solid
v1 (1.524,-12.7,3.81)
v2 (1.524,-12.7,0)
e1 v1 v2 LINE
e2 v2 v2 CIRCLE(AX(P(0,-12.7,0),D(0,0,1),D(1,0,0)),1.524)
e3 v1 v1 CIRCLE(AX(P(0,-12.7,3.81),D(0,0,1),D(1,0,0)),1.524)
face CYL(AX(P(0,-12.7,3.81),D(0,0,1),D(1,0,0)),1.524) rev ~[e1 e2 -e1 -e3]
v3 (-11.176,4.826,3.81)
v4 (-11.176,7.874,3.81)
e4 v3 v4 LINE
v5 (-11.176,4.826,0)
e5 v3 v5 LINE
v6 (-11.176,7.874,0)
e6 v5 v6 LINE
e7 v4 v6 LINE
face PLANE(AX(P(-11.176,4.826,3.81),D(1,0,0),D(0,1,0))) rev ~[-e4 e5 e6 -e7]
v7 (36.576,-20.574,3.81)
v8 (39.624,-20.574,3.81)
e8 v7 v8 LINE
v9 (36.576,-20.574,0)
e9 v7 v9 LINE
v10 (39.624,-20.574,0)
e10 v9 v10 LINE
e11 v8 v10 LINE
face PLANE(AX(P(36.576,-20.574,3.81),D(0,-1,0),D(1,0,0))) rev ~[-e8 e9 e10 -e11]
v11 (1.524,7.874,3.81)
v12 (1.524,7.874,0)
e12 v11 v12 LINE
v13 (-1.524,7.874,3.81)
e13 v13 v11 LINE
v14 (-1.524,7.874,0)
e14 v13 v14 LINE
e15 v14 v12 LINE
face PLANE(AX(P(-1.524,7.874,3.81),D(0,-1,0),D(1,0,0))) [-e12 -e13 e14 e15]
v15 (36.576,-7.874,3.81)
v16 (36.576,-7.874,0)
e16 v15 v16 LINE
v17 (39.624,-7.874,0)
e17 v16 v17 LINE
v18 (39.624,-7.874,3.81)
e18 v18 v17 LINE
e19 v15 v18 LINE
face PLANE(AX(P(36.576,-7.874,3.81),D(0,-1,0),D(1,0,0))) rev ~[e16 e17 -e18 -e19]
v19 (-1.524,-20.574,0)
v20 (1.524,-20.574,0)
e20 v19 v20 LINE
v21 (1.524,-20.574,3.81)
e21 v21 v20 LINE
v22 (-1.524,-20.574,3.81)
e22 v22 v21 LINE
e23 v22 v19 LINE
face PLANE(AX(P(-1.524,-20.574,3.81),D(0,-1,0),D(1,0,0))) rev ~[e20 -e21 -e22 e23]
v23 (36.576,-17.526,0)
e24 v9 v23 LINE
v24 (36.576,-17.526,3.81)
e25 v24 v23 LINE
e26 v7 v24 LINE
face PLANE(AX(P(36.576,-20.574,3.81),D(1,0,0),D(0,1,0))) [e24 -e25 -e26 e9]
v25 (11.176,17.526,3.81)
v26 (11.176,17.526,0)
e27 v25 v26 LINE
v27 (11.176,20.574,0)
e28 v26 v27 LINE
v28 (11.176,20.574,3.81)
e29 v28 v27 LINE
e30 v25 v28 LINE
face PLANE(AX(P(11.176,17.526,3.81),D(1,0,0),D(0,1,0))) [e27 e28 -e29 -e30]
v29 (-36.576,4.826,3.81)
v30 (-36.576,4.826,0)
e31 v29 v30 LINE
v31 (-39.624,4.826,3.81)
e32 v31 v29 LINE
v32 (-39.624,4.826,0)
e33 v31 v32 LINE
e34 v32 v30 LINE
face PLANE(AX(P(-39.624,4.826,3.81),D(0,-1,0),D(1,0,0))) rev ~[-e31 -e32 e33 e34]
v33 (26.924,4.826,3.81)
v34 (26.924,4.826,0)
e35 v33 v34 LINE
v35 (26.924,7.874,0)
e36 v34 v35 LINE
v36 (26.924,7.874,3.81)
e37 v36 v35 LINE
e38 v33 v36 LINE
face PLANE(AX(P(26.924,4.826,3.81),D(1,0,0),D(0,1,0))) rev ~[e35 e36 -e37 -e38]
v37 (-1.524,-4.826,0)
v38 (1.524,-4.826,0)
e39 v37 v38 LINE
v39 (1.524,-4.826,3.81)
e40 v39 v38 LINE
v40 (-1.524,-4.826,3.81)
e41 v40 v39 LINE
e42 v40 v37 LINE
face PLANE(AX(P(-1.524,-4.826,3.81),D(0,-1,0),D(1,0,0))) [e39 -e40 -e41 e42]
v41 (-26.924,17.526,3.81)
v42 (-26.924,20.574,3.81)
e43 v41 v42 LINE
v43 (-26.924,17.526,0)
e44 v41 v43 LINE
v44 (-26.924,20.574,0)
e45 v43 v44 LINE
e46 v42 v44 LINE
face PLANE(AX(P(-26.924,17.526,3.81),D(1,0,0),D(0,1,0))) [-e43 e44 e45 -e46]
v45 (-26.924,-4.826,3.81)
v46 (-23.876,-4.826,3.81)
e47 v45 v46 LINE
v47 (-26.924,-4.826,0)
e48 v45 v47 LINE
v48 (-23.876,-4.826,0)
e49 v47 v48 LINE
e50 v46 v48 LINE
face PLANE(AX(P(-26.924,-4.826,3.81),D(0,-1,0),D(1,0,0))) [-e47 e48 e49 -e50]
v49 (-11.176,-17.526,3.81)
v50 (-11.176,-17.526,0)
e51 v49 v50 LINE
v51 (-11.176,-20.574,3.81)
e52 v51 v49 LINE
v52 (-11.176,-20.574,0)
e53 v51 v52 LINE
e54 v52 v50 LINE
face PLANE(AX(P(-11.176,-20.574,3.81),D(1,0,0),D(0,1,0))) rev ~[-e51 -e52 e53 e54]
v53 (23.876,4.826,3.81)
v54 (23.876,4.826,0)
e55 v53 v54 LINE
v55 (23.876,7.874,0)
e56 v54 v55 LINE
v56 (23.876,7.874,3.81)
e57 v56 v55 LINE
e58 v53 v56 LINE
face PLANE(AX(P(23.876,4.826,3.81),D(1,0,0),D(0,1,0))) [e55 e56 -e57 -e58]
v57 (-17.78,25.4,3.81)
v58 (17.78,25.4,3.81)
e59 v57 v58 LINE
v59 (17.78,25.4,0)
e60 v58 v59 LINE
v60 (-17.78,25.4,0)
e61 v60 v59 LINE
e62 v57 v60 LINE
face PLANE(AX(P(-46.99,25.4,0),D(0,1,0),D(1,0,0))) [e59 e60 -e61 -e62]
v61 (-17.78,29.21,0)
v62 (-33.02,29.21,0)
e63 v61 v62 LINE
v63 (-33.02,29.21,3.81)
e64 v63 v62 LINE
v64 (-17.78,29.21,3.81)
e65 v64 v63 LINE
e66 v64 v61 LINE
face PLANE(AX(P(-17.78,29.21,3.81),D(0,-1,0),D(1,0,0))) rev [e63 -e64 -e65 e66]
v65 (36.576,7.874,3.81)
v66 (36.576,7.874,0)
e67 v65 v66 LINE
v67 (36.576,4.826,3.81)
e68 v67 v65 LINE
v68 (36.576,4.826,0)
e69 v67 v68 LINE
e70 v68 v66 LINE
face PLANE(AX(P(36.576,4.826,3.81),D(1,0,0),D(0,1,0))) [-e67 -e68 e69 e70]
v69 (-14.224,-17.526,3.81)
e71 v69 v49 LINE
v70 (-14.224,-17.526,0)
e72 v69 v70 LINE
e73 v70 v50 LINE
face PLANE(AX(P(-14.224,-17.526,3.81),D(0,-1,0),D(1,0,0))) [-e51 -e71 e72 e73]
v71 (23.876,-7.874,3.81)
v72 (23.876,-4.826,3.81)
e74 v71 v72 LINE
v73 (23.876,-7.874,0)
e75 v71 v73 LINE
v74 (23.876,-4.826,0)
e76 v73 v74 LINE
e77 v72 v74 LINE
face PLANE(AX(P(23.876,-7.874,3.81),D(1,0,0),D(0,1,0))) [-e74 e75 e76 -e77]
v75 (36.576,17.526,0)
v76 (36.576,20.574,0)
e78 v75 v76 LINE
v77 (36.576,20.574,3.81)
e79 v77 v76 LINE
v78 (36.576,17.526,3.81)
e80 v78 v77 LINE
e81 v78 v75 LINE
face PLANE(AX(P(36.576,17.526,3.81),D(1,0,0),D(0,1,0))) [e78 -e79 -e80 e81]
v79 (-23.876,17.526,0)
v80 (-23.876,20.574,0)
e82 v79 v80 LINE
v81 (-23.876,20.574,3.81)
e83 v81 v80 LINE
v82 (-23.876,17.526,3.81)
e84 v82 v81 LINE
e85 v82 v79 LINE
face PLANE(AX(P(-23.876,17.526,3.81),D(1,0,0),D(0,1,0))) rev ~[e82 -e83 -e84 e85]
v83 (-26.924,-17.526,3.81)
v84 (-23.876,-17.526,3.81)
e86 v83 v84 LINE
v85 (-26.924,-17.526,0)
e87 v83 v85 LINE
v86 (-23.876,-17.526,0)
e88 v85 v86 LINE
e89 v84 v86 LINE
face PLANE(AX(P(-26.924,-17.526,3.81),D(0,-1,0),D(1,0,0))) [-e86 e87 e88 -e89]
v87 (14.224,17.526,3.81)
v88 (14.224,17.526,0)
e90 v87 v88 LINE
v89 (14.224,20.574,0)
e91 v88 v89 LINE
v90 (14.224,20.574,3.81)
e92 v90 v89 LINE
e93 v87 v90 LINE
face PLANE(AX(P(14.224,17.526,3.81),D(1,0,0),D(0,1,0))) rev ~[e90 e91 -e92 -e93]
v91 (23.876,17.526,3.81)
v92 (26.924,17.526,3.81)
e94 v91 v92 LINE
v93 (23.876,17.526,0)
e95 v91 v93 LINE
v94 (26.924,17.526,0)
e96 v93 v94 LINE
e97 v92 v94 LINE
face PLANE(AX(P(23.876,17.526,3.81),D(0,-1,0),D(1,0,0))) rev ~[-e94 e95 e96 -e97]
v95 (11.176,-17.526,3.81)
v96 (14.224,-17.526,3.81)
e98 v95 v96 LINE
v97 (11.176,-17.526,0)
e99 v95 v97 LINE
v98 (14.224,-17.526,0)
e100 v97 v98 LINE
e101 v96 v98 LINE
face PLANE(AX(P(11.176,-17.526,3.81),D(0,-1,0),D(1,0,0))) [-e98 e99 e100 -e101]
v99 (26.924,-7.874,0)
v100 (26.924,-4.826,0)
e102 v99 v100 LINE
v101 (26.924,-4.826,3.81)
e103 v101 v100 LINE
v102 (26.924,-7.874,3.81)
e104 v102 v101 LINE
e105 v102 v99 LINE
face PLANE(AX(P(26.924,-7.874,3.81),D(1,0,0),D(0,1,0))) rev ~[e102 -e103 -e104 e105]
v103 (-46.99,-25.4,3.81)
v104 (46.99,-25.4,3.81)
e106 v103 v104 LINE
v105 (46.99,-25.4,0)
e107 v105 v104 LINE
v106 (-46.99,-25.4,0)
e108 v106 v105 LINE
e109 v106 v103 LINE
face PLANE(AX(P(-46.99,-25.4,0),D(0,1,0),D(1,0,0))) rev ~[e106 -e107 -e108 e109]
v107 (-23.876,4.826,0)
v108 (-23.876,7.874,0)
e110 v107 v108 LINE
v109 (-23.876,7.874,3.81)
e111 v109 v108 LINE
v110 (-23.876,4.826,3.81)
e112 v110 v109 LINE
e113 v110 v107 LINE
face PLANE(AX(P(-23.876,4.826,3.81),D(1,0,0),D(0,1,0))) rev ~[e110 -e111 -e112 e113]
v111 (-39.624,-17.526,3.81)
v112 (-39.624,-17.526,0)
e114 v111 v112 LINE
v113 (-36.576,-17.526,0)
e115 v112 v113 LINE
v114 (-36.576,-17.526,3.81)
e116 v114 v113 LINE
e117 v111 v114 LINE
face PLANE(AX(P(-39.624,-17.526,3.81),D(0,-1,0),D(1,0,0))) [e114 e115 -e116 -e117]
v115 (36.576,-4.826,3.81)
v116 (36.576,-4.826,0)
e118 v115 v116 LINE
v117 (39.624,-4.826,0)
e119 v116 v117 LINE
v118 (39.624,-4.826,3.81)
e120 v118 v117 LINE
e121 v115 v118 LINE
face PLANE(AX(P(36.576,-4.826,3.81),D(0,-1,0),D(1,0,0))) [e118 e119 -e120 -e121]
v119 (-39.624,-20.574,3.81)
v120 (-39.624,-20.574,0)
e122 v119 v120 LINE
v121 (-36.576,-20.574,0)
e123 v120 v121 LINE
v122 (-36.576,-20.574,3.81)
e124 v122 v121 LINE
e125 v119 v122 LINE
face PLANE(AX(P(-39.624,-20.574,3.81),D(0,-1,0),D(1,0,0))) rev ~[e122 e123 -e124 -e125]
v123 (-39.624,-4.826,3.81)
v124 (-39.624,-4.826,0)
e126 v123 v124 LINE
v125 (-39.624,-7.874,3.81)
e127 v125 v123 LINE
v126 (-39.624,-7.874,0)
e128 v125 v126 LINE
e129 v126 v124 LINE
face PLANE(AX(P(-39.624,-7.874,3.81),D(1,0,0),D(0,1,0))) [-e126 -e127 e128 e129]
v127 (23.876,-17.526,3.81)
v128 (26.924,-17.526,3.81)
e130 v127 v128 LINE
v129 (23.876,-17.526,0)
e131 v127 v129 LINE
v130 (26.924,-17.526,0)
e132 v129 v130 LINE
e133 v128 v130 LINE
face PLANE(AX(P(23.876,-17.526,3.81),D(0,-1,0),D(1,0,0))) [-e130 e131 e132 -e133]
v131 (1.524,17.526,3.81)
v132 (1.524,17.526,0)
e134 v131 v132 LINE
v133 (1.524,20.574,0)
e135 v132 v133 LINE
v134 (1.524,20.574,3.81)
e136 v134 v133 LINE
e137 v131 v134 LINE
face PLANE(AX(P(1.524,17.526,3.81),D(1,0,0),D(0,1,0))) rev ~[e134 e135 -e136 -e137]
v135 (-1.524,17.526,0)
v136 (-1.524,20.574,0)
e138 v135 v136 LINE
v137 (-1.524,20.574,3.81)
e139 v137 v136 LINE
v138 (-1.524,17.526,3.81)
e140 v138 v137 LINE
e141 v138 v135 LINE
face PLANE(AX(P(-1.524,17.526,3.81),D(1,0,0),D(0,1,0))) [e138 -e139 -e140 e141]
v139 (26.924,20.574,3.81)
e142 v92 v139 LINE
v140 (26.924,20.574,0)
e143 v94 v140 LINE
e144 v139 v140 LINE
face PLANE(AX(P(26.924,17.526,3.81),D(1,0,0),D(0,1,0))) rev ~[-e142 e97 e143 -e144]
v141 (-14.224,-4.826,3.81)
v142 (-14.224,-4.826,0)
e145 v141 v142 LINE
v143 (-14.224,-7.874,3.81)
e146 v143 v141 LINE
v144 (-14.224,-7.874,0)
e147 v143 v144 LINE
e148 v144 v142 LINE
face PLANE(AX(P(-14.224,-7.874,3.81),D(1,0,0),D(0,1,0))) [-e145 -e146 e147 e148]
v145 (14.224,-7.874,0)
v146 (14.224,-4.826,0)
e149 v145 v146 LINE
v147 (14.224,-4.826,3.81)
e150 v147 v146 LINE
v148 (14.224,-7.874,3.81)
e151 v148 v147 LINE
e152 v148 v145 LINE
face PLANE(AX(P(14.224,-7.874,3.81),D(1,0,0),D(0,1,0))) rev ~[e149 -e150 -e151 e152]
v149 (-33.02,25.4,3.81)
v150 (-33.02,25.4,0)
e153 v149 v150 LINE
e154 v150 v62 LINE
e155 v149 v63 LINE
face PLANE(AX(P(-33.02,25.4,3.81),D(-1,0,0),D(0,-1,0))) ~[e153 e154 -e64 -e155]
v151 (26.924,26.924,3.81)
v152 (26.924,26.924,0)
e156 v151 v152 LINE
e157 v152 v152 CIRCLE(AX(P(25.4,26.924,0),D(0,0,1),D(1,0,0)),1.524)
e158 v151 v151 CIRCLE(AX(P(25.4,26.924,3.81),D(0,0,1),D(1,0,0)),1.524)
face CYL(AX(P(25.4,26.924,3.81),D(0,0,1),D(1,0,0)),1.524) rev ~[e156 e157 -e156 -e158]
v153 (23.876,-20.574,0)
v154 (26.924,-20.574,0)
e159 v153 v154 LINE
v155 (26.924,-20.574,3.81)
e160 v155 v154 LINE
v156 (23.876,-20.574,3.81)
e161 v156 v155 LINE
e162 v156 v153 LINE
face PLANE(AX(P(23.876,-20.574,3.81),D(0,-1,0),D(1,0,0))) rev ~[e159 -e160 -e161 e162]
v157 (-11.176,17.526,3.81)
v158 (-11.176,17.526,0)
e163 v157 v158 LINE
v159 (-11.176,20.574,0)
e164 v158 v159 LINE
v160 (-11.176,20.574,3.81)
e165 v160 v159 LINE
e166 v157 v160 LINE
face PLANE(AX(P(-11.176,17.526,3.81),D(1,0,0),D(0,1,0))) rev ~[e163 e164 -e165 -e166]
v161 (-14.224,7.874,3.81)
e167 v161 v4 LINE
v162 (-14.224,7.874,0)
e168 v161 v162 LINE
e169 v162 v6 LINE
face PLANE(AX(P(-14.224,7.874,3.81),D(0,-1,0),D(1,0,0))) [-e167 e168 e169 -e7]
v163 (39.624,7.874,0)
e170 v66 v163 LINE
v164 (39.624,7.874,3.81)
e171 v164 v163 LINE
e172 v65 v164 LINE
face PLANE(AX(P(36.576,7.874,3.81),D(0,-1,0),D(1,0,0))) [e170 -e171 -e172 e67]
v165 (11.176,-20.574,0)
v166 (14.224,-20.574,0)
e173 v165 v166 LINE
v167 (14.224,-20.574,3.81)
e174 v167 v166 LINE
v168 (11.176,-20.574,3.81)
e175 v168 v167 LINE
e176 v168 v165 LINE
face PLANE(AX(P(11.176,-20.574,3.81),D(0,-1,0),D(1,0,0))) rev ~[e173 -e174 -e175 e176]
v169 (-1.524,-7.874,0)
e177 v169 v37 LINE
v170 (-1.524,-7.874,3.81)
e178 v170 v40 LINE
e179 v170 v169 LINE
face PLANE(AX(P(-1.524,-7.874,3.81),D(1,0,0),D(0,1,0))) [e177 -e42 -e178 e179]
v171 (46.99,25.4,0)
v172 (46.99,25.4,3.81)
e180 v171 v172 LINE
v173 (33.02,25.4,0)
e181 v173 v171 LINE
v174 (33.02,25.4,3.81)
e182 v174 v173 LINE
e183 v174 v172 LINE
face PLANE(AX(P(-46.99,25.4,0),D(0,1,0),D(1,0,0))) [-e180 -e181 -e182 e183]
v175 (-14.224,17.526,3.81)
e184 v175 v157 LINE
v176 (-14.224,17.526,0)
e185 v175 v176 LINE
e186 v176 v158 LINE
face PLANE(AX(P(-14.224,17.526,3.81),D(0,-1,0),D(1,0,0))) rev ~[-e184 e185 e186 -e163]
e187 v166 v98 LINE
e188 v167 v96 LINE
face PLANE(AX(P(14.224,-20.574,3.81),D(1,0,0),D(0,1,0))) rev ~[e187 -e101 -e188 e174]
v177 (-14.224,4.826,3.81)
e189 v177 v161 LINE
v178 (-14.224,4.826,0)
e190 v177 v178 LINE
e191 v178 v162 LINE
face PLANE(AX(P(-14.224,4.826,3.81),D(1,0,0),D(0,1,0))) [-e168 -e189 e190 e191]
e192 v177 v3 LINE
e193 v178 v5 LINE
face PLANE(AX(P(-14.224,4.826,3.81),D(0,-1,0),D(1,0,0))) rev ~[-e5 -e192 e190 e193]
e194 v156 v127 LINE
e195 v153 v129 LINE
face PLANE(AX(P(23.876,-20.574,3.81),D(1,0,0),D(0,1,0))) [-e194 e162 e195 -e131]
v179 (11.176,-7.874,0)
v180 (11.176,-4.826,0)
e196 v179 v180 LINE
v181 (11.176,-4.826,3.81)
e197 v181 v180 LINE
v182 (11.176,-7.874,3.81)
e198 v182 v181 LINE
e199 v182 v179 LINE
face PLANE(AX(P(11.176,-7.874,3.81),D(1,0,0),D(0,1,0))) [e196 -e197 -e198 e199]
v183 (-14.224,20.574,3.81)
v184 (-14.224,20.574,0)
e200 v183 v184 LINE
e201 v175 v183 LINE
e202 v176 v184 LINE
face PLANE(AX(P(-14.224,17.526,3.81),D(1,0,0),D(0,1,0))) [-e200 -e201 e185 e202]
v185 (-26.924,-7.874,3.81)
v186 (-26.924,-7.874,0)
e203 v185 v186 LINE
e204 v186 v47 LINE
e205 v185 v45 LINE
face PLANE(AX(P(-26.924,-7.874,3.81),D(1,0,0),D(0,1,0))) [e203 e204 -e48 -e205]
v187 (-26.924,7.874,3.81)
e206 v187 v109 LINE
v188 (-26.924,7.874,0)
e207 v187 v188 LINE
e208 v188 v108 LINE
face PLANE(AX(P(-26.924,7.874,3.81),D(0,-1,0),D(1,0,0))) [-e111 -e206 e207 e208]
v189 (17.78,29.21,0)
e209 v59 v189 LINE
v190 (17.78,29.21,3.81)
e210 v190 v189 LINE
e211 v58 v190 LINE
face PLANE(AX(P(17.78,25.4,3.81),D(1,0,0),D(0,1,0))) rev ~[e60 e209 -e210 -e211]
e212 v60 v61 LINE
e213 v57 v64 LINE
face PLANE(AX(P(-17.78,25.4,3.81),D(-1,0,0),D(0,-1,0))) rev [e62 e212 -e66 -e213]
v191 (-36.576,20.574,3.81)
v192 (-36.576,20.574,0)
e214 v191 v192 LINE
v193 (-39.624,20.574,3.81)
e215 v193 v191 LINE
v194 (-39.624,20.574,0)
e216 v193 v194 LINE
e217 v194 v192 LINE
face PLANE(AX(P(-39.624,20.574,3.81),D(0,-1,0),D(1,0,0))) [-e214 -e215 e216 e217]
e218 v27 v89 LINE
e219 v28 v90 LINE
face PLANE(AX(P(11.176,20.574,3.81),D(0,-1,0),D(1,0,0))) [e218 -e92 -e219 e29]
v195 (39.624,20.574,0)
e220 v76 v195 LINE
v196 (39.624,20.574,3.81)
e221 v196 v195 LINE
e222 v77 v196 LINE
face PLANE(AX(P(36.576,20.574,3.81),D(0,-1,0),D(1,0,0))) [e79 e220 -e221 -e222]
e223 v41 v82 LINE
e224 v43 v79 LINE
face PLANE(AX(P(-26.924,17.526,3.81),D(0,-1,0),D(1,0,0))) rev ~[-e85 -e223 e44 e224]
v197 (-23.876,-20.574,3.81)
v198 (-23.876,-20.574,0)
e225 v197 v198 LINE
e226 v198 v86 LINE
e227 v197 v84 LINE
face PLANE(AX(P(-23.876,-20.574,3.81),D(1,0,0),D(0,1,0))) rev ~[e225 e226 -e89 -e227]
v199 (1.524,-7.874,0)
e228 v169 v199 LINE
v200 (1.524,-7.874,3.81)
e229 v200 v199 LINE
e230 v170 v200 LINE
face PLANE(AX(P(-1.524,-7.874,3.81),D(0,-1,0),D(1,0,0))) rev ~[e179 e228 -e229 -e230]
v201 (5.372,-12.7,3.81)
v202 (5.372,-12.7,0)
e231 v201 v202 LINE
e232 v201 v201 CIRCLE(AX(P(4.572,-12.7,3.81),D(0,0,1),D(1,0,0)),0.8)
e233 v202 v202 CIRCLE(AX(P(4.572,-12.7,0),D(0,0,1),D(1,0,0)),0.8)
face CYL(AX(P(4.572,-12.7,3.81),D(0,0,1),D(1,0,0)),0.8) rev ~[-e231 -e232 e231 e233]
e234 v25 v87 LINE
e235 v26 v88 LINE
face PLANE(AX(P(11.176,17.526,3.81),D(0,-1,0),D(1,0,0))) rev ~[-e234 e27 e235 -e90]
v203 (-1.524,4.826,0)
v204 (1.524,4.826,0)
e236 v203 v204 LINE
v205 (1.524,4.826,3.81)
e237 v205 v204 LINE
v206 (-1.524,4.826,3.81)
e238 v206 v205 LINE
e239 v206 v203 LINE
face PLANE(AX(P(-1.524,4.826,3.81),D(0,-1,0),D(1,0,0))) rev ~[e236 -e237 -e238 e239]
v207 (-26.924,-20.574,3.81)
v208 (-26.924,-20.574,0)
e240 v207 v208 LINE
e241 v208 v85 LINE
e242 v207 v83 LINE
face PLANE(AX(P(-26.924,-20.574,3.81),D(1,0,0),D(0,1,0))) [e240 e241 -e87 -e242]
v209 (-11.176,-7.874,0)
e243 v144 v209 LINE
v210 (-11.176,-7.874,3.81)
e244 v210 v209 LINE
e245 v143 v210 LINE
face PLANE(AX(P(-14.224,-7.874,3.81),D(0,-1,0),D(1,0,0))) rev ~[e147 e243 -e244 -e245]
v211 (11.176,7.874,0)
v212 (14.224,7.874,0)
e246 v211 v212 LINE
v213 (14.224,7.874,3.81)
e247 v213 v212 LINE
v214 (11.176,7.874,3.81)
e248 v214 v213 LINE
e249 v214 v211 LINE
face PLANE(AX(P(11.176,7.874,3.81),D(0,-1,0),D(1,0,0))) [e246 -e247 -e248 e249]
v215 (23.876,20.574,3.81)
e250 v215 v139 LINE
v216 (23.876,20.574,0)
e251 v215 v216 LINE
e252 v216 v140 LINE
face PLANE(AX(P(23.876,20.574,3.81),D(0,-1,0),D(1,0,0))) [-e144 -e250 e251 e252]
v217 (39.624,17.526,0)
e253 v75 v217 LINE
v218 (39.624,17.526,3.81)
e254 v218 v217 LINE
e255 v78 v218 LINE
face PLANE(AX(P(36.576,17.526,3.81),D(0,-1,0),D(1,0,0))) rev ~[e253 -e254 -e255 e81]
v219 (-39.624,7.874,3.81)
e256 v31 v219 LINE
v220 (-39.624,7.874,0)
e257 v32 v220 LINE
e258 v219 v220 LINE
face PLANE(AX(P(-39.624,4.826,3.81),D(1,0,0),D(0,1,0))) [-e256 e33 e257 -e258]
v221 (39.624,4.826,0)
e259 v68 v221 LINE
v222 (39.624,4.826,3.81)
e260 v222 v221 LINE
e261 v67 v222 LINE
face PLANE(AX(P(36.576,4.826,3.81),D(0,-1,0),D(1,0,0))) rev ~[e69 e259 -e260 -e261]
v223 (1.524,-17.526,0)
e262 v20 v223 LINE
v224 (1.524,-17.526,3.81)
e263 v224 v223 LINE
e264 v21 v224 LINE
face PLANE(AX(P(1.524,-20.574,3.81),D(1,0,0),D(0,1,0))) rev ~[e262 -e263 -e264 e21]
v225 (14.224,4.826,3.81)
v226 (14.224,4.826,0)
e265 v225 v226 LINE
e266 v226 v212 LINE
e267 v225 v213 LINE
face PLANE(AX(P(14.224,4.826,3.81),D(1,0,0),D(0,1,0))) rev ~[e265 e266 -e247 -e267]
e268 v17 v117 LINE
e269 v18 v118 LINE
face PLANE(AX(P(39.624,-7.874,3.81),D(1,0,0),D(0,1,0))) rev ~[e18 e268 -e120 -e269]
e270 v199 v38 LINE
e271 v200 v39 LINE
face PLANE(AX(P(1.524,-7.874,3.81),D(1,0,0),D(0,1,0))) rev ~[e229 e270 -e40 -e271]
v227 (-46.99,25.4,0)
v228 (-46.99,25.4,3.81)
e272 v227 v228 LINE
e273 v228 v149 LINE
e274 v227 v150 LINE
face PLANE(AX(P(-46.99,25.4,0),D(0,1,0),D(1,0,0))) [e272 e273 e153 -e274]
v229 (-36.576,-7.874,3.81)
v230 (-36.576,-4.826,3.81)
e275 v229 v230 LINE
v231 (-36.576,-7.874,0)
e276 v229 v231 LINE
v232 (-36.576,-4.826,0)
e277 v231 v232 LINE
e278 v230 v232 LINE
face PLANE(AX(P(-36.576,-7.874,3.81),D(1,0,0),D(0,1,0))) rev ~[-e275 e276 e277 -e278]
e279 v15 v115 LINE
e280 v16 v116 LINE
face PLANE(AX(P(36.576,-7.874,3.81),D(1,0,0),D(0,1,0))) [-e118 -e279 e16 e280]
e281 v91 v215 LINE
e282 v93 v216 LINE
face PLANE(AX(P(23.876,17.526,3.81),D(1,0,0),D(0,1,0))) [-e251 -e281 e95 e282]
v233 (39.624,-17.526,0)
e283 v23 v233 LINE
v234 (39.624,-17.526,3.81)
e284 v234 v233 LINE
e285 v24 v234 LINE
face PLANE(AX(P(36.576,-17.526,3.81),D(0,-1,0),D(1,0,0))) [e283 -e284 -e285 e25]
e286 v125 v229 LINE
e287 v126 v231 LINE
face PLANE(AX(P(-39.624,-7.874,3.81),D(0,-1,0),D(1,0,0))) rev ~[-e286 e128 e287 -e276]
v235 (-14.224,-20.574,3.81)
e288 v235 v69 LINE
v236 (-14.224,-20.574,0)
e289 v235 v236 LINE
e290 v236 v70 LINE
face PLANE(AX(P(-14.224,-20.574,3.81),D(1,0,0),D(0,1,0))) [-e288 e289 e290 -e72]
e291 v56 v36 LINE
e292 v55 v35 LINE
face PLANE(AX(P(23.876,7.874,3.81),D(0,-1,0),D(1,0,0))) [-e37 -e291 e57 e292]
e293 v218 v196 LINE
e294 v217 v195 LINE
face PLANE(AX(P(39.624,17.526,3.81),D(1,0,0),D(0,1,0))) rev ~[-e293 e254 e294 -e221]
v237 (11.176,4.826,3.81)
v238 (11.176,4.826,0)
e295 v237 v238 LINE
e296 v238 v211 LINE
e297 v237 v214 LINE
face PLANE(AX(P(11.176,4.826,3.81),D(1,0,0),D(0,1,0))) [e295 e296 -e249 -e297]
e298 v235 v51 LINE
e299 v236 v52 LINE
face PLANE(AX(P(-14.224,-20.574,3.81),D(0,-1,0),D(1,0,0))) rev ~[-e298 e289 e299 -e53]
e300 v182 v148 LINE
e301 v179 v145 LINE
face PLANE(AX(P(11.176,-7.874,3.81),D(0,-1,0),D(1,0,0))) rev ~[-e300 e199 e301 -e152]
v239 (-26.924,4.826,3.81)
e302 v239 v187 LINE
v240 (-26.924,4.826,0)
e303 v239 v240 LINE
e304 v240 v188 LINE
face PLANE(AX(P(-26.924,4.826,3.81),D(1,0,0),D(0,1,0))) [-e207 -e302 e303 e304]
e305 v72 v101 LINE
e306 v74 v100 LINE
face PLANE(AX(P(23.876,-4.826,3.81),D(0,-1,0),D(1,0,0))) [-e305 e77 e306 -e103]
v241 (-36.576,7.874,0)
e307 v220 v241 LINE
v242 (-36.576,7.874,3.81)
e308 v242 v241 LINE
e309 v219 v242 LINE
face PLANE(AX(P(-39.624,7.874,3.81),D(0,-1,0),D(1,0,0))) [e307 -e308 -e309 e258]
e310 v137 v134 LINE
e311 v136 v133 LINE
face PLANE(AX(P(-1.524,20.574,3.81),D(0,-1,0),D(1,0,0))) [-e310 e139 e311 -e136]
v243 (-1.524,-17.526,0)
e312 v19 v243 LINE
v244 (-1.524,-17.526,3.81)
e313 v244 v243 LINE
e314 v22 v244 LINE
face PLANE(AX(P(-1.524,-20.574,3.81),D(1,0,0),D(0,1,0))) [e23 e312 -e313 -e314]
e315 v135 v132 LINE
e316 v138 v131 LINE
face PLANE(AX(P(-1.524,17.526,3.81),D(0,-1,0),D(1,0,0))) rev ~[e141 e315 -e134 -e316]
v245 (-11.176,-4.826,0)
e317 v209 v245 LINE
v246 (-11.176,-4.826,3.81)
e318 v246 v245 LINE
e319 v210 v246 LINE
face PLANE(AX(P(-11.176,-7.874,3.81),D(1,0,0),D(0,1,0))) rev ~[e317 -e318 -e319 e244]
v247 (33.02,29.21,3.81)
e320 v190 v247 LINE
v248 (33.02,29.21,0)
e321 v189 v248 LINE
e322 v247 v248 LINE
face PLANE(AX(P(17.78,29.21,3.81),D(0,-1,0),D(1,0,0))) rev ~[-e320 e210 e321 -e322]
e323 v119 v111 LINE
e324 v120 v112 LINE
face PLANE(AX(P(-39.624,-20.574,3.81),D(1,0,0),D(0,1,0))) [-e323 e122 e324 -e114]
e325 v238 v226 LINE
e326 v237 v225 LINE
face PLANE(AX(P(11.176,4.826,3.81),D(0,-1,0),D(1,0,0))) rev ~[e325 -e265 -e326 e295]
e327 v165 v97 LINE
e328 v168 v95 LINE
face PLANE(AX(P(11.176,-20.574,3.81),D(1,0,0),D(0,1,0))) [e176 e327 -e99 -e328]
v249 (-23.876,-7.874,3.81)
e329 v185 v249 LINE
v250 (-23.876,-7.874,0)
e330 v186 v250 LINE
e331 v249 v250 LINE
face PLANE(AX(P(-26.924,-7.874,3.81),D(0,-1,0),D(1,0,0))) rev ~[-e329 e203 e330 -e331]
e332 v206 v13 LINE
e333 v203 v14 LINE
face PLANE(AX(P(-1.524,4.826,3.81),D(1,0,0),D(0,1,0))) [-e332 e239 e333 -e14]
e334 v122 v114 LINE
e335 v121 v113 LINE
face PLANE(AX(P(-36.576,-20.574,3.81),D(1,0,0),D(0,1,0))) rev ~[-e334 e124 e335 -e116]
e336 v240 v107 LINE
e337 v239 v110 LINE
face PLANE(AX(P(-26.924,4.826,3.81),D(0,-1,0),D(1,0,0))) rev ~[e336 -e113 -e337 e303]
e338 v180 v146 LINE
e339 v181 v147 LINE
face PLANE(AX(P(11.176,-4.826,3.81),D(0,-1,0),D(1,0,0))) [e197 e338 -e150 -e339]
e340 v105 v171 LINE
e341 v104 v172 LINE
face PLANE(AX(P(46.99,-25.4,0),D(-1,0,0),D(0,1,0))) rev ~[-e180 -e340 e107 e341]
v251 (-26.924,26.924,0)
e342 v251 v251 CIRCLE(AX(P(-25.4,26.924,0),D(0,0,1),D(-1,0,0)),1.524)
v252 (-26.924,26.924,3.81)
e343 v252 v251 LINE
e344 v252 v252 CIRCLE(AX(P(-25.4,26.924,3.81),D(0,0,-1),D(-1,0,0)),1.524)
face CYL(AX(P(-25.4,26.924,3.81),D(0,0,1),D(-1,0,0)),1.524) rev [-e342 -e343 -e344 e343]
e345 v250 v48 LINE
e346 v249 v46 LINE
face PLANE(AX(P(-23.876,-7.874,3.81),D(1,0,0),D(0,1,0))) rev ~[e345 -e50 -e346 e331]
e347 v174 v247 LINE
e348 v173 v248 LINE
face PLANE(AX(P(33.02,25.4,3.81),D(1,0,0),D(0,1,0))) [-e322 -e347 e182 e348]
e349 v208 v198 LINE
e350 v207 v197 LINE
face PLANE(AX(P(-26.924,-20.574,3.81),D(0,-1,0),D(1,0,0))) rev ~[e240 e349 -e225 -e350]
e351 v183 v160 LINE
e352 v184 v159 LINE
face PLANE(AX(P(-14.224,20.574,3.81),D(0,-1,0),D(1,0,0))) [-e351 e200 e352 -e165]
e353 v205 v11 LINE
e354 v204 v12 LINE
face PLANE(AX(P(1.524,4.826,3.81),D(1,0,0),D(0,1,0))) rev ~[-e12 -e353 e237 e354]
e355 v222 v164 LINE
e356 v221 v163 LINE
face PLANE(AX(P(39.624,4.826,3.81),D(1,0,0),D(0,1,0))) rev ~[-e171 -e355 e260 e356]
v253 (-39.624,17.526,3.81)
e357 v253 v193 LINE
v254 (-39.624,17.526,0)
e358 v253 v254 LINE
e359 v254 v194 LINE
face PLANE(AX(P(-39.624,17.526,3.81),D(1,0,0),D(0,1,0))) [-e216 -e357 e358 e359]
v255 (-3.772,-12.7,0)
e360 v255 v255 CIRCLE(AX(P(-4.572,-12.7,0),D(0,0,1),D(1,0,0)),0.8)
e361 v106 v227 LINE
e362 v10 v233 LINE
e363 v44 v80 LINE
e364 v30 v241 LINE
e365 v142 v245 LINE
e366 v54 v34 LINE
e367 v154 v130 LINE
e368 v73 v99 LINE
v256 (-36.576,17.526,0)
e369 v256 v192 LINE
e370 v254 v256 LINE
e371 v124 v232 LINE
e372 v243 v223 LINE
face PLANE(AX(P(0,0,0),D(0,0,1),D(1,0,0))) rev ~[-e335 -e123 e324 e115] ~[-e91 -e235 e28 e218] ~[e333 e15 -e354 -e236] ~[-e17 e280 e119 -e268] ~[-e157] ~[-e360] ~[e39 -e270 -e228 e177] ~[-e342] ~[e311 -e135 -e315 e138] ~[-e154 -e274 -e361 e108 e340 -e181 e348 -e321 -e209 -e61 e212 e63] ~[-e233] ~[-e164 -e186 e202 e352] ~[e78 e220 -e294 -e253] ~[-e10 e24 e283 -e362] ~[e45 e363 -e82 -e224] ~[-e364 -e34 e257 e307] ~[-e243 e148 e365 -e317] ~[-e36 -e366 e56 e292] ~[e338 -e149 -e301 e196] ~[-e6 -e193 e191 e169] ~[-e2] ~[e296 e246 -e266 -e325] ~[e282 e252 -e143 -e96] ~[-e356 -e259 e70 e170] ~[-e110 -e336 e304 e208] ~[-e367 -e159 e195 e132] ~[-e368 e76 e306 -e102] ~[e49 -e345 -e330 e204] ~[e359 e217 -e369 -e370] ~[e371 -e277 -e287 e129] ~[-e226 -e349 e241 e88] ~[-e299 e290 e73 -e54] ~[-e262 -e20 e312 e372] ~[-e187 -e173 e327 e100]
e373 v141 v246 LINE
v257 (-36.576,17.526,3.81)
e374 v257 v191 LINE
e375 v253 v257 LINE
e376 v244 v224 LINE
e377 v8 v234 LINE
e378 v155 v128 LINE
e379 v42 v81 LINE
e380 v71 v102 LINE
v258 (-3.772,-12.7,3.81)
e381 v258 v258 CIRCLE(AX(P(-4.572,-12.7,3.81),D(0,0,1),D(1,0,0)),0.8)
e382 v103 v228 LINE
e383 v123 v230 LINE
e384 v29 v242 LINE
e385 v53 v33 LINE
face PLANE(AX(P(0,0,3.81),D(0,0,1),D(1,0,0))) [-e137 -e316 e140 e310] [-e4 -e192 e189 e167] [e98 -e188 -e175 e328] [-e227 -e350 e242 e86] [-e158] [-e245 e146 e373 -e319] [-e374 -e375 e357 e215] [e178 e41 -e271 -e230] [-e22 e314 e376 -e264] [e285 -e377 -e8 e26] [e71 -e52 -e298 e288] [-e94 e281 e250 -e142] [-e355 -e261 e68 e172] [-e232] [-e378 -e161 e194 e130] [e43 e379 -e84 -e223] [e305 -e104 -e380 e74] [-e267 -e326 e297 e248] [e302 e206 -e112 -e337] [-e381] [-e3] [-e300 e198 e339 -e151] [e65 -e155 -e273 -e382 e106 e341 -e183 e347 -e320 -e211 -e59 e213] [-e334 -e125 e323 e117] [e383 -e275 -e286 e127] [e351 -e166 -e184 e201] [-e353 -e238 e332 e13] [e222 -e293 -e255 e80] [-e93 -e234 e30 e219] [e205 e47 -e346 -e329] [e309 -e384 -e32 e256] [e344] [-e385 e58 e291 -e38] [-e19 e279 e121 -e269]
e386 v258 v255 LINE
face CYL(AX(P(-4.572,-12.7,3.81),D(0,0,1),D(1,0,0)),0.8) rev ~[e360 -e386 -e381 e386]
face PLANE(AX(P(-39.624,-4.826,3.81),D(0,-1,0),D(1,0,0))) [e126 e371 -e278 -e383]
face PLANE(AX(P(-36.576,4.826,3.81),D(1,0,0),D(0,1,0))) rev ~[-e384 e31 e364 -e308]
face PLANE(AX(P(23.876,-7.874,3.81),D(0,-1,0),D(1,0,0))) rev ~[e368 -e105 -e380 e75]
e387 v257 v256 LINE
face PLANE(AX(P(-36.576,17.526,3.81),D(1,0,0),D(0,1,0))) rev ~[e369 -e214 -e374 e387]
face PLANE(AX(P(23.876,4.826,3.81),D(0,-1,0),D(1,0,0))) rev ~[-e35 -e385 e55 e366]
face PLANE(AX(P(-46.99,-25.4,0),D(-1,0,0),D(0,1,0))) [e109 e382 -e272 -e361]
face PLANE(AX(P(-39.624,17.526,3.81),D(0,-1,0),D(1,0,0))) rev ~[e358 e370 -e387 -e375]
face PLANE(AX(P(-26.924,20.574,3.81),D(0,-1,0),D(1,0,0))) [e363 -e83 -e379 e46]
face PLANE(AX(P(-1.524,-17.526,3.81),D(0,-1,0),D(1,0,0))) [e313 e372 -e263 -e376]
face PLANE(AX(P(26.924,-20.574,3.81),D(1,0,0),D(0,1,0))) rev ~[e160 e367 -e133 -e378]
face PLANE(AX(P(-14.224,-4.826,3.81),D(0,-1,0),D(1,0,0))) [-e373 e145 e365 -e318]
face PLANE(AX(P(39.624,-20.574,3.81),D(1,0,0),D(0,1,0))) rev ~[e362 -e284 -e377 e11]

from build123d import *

# Parameters (mm, degrees)
SKETCH1_W            = 93.98
SKETCH1_H            = 50.8
BOSS_EXTRUDE4_DEPTH  = 3.81
SKETCH26_W           = 3.048
SKETCH26_H           = 3.048
CUT_EXTRUDE30_DEPTH  = 54.551248351
LPATTERN9_COUNT      = 4
LPATTERN9_PITCH      = 12.7
LPATTERN9_COUNT_DIR2 = 7
LPATTERN9_PITCH_DIR2 = 12.7
SKETCH25_R           = 1.524
SKETCH25_R_2         = 0.8
CUT_EXTRUDE29_DEPTH  = 54.551248351
SKETCH27_W           = 15.24
SKETCH27_H           = 3.81
BOSS_EXTRUDE5_DEPTH  = 3.81
SKETCH28_R           = 1.524
CUT_EXTRUDE31_DEPTH  = 56.459898125


with BuildPart() as part:
    # Sketch1 → Boss-Extrude4 (new body)
    with BuildSketch(Plane.XY):
        Rectangle(SKETCH1_W, SKETCH1_H)
    extrude(amount=BOSS_EXTRUDE4_DEPTH)

    # Sketch26 → Cut-Extrude30 (cut, through all)
    with BuildSketch(Plane.XY.offset(3.81)):
        with Locations((38.1, 19.05)):
            Rectangle(SKETCH26_W, SKETCH26_H)
    cut_extrude30 = extrude(amount=-CUT_EXTRUDE30_DEPTH, mode=Mode.SUBTRACT)

    # LPattern9: Cut-Extrude30 4 × 7
    with Locations(*[(-j * LPATTERN9_PITCH_DIR2, -i * LPATTERN9_PITCH, 0) for i in range(LPATTERN9_COUNT) for j in range(LPATTERN9_COUNT_DIR2) if (i, j) != (0, 0)]):
        add(cut_extrude30, mode=Mode.SUBTRACT)

    # Sketch25 → Cut-Extrude29 (cut, through all)
    with BuildSketch(Plane.XY.offset(3.81)):
        with Locations((0, -12.7)):
            Circle(SKETCH25_R)
        with Locations((-4.572, -12.7)):
            Circle(SKETCH25_R_2)
        with Locations((4.572, -12.7)):
            Circle(SKETCH25_R_2)
    extrude(amount=-CUT_EXTRUDE29_DEPTH, mode=Mode.SUBTRACT)

    # Sketch27 → Boss-Extrude5 (add)
    with BuildSketch(Plane.XY.offset(3.81)):
        with Locations((25.4, 27.305)):
            Rectangle(SKETCH27_W, SKETCH27_H)
    boss_extrude5 = extrude(amount=-BOSS_EXTRUDE5_DEPTH)

    # Sketch28 → Cut-Extrude31 (cut, through all)
    with BuildSketch(Plane.XY.offset(3.81)):
        with Locations((25.4, 26.924)):
            Circle(SKETCH28_R)
    cut_extrude31 = extrude(amount=-CUT_EXTRUDE31_DEPTH, mode=Mode.SUBTRACT)

    # Mirror1: Boss-Extrude5, Cut-Extrude31 across plane
    add(boss_extrude5.mirror(Plane(origin=(0, 0, 0), x_dir=(0, 0, 1), z_dir=(1, 0, 0))))
    add(cut_extrude31.mirror(Plane(origin=(0, 0, 0), x_dir=(0, 0, 1), z_dir=(1, 0, 0))), mode=Mode.SUBTRACT)


solid = part.part
